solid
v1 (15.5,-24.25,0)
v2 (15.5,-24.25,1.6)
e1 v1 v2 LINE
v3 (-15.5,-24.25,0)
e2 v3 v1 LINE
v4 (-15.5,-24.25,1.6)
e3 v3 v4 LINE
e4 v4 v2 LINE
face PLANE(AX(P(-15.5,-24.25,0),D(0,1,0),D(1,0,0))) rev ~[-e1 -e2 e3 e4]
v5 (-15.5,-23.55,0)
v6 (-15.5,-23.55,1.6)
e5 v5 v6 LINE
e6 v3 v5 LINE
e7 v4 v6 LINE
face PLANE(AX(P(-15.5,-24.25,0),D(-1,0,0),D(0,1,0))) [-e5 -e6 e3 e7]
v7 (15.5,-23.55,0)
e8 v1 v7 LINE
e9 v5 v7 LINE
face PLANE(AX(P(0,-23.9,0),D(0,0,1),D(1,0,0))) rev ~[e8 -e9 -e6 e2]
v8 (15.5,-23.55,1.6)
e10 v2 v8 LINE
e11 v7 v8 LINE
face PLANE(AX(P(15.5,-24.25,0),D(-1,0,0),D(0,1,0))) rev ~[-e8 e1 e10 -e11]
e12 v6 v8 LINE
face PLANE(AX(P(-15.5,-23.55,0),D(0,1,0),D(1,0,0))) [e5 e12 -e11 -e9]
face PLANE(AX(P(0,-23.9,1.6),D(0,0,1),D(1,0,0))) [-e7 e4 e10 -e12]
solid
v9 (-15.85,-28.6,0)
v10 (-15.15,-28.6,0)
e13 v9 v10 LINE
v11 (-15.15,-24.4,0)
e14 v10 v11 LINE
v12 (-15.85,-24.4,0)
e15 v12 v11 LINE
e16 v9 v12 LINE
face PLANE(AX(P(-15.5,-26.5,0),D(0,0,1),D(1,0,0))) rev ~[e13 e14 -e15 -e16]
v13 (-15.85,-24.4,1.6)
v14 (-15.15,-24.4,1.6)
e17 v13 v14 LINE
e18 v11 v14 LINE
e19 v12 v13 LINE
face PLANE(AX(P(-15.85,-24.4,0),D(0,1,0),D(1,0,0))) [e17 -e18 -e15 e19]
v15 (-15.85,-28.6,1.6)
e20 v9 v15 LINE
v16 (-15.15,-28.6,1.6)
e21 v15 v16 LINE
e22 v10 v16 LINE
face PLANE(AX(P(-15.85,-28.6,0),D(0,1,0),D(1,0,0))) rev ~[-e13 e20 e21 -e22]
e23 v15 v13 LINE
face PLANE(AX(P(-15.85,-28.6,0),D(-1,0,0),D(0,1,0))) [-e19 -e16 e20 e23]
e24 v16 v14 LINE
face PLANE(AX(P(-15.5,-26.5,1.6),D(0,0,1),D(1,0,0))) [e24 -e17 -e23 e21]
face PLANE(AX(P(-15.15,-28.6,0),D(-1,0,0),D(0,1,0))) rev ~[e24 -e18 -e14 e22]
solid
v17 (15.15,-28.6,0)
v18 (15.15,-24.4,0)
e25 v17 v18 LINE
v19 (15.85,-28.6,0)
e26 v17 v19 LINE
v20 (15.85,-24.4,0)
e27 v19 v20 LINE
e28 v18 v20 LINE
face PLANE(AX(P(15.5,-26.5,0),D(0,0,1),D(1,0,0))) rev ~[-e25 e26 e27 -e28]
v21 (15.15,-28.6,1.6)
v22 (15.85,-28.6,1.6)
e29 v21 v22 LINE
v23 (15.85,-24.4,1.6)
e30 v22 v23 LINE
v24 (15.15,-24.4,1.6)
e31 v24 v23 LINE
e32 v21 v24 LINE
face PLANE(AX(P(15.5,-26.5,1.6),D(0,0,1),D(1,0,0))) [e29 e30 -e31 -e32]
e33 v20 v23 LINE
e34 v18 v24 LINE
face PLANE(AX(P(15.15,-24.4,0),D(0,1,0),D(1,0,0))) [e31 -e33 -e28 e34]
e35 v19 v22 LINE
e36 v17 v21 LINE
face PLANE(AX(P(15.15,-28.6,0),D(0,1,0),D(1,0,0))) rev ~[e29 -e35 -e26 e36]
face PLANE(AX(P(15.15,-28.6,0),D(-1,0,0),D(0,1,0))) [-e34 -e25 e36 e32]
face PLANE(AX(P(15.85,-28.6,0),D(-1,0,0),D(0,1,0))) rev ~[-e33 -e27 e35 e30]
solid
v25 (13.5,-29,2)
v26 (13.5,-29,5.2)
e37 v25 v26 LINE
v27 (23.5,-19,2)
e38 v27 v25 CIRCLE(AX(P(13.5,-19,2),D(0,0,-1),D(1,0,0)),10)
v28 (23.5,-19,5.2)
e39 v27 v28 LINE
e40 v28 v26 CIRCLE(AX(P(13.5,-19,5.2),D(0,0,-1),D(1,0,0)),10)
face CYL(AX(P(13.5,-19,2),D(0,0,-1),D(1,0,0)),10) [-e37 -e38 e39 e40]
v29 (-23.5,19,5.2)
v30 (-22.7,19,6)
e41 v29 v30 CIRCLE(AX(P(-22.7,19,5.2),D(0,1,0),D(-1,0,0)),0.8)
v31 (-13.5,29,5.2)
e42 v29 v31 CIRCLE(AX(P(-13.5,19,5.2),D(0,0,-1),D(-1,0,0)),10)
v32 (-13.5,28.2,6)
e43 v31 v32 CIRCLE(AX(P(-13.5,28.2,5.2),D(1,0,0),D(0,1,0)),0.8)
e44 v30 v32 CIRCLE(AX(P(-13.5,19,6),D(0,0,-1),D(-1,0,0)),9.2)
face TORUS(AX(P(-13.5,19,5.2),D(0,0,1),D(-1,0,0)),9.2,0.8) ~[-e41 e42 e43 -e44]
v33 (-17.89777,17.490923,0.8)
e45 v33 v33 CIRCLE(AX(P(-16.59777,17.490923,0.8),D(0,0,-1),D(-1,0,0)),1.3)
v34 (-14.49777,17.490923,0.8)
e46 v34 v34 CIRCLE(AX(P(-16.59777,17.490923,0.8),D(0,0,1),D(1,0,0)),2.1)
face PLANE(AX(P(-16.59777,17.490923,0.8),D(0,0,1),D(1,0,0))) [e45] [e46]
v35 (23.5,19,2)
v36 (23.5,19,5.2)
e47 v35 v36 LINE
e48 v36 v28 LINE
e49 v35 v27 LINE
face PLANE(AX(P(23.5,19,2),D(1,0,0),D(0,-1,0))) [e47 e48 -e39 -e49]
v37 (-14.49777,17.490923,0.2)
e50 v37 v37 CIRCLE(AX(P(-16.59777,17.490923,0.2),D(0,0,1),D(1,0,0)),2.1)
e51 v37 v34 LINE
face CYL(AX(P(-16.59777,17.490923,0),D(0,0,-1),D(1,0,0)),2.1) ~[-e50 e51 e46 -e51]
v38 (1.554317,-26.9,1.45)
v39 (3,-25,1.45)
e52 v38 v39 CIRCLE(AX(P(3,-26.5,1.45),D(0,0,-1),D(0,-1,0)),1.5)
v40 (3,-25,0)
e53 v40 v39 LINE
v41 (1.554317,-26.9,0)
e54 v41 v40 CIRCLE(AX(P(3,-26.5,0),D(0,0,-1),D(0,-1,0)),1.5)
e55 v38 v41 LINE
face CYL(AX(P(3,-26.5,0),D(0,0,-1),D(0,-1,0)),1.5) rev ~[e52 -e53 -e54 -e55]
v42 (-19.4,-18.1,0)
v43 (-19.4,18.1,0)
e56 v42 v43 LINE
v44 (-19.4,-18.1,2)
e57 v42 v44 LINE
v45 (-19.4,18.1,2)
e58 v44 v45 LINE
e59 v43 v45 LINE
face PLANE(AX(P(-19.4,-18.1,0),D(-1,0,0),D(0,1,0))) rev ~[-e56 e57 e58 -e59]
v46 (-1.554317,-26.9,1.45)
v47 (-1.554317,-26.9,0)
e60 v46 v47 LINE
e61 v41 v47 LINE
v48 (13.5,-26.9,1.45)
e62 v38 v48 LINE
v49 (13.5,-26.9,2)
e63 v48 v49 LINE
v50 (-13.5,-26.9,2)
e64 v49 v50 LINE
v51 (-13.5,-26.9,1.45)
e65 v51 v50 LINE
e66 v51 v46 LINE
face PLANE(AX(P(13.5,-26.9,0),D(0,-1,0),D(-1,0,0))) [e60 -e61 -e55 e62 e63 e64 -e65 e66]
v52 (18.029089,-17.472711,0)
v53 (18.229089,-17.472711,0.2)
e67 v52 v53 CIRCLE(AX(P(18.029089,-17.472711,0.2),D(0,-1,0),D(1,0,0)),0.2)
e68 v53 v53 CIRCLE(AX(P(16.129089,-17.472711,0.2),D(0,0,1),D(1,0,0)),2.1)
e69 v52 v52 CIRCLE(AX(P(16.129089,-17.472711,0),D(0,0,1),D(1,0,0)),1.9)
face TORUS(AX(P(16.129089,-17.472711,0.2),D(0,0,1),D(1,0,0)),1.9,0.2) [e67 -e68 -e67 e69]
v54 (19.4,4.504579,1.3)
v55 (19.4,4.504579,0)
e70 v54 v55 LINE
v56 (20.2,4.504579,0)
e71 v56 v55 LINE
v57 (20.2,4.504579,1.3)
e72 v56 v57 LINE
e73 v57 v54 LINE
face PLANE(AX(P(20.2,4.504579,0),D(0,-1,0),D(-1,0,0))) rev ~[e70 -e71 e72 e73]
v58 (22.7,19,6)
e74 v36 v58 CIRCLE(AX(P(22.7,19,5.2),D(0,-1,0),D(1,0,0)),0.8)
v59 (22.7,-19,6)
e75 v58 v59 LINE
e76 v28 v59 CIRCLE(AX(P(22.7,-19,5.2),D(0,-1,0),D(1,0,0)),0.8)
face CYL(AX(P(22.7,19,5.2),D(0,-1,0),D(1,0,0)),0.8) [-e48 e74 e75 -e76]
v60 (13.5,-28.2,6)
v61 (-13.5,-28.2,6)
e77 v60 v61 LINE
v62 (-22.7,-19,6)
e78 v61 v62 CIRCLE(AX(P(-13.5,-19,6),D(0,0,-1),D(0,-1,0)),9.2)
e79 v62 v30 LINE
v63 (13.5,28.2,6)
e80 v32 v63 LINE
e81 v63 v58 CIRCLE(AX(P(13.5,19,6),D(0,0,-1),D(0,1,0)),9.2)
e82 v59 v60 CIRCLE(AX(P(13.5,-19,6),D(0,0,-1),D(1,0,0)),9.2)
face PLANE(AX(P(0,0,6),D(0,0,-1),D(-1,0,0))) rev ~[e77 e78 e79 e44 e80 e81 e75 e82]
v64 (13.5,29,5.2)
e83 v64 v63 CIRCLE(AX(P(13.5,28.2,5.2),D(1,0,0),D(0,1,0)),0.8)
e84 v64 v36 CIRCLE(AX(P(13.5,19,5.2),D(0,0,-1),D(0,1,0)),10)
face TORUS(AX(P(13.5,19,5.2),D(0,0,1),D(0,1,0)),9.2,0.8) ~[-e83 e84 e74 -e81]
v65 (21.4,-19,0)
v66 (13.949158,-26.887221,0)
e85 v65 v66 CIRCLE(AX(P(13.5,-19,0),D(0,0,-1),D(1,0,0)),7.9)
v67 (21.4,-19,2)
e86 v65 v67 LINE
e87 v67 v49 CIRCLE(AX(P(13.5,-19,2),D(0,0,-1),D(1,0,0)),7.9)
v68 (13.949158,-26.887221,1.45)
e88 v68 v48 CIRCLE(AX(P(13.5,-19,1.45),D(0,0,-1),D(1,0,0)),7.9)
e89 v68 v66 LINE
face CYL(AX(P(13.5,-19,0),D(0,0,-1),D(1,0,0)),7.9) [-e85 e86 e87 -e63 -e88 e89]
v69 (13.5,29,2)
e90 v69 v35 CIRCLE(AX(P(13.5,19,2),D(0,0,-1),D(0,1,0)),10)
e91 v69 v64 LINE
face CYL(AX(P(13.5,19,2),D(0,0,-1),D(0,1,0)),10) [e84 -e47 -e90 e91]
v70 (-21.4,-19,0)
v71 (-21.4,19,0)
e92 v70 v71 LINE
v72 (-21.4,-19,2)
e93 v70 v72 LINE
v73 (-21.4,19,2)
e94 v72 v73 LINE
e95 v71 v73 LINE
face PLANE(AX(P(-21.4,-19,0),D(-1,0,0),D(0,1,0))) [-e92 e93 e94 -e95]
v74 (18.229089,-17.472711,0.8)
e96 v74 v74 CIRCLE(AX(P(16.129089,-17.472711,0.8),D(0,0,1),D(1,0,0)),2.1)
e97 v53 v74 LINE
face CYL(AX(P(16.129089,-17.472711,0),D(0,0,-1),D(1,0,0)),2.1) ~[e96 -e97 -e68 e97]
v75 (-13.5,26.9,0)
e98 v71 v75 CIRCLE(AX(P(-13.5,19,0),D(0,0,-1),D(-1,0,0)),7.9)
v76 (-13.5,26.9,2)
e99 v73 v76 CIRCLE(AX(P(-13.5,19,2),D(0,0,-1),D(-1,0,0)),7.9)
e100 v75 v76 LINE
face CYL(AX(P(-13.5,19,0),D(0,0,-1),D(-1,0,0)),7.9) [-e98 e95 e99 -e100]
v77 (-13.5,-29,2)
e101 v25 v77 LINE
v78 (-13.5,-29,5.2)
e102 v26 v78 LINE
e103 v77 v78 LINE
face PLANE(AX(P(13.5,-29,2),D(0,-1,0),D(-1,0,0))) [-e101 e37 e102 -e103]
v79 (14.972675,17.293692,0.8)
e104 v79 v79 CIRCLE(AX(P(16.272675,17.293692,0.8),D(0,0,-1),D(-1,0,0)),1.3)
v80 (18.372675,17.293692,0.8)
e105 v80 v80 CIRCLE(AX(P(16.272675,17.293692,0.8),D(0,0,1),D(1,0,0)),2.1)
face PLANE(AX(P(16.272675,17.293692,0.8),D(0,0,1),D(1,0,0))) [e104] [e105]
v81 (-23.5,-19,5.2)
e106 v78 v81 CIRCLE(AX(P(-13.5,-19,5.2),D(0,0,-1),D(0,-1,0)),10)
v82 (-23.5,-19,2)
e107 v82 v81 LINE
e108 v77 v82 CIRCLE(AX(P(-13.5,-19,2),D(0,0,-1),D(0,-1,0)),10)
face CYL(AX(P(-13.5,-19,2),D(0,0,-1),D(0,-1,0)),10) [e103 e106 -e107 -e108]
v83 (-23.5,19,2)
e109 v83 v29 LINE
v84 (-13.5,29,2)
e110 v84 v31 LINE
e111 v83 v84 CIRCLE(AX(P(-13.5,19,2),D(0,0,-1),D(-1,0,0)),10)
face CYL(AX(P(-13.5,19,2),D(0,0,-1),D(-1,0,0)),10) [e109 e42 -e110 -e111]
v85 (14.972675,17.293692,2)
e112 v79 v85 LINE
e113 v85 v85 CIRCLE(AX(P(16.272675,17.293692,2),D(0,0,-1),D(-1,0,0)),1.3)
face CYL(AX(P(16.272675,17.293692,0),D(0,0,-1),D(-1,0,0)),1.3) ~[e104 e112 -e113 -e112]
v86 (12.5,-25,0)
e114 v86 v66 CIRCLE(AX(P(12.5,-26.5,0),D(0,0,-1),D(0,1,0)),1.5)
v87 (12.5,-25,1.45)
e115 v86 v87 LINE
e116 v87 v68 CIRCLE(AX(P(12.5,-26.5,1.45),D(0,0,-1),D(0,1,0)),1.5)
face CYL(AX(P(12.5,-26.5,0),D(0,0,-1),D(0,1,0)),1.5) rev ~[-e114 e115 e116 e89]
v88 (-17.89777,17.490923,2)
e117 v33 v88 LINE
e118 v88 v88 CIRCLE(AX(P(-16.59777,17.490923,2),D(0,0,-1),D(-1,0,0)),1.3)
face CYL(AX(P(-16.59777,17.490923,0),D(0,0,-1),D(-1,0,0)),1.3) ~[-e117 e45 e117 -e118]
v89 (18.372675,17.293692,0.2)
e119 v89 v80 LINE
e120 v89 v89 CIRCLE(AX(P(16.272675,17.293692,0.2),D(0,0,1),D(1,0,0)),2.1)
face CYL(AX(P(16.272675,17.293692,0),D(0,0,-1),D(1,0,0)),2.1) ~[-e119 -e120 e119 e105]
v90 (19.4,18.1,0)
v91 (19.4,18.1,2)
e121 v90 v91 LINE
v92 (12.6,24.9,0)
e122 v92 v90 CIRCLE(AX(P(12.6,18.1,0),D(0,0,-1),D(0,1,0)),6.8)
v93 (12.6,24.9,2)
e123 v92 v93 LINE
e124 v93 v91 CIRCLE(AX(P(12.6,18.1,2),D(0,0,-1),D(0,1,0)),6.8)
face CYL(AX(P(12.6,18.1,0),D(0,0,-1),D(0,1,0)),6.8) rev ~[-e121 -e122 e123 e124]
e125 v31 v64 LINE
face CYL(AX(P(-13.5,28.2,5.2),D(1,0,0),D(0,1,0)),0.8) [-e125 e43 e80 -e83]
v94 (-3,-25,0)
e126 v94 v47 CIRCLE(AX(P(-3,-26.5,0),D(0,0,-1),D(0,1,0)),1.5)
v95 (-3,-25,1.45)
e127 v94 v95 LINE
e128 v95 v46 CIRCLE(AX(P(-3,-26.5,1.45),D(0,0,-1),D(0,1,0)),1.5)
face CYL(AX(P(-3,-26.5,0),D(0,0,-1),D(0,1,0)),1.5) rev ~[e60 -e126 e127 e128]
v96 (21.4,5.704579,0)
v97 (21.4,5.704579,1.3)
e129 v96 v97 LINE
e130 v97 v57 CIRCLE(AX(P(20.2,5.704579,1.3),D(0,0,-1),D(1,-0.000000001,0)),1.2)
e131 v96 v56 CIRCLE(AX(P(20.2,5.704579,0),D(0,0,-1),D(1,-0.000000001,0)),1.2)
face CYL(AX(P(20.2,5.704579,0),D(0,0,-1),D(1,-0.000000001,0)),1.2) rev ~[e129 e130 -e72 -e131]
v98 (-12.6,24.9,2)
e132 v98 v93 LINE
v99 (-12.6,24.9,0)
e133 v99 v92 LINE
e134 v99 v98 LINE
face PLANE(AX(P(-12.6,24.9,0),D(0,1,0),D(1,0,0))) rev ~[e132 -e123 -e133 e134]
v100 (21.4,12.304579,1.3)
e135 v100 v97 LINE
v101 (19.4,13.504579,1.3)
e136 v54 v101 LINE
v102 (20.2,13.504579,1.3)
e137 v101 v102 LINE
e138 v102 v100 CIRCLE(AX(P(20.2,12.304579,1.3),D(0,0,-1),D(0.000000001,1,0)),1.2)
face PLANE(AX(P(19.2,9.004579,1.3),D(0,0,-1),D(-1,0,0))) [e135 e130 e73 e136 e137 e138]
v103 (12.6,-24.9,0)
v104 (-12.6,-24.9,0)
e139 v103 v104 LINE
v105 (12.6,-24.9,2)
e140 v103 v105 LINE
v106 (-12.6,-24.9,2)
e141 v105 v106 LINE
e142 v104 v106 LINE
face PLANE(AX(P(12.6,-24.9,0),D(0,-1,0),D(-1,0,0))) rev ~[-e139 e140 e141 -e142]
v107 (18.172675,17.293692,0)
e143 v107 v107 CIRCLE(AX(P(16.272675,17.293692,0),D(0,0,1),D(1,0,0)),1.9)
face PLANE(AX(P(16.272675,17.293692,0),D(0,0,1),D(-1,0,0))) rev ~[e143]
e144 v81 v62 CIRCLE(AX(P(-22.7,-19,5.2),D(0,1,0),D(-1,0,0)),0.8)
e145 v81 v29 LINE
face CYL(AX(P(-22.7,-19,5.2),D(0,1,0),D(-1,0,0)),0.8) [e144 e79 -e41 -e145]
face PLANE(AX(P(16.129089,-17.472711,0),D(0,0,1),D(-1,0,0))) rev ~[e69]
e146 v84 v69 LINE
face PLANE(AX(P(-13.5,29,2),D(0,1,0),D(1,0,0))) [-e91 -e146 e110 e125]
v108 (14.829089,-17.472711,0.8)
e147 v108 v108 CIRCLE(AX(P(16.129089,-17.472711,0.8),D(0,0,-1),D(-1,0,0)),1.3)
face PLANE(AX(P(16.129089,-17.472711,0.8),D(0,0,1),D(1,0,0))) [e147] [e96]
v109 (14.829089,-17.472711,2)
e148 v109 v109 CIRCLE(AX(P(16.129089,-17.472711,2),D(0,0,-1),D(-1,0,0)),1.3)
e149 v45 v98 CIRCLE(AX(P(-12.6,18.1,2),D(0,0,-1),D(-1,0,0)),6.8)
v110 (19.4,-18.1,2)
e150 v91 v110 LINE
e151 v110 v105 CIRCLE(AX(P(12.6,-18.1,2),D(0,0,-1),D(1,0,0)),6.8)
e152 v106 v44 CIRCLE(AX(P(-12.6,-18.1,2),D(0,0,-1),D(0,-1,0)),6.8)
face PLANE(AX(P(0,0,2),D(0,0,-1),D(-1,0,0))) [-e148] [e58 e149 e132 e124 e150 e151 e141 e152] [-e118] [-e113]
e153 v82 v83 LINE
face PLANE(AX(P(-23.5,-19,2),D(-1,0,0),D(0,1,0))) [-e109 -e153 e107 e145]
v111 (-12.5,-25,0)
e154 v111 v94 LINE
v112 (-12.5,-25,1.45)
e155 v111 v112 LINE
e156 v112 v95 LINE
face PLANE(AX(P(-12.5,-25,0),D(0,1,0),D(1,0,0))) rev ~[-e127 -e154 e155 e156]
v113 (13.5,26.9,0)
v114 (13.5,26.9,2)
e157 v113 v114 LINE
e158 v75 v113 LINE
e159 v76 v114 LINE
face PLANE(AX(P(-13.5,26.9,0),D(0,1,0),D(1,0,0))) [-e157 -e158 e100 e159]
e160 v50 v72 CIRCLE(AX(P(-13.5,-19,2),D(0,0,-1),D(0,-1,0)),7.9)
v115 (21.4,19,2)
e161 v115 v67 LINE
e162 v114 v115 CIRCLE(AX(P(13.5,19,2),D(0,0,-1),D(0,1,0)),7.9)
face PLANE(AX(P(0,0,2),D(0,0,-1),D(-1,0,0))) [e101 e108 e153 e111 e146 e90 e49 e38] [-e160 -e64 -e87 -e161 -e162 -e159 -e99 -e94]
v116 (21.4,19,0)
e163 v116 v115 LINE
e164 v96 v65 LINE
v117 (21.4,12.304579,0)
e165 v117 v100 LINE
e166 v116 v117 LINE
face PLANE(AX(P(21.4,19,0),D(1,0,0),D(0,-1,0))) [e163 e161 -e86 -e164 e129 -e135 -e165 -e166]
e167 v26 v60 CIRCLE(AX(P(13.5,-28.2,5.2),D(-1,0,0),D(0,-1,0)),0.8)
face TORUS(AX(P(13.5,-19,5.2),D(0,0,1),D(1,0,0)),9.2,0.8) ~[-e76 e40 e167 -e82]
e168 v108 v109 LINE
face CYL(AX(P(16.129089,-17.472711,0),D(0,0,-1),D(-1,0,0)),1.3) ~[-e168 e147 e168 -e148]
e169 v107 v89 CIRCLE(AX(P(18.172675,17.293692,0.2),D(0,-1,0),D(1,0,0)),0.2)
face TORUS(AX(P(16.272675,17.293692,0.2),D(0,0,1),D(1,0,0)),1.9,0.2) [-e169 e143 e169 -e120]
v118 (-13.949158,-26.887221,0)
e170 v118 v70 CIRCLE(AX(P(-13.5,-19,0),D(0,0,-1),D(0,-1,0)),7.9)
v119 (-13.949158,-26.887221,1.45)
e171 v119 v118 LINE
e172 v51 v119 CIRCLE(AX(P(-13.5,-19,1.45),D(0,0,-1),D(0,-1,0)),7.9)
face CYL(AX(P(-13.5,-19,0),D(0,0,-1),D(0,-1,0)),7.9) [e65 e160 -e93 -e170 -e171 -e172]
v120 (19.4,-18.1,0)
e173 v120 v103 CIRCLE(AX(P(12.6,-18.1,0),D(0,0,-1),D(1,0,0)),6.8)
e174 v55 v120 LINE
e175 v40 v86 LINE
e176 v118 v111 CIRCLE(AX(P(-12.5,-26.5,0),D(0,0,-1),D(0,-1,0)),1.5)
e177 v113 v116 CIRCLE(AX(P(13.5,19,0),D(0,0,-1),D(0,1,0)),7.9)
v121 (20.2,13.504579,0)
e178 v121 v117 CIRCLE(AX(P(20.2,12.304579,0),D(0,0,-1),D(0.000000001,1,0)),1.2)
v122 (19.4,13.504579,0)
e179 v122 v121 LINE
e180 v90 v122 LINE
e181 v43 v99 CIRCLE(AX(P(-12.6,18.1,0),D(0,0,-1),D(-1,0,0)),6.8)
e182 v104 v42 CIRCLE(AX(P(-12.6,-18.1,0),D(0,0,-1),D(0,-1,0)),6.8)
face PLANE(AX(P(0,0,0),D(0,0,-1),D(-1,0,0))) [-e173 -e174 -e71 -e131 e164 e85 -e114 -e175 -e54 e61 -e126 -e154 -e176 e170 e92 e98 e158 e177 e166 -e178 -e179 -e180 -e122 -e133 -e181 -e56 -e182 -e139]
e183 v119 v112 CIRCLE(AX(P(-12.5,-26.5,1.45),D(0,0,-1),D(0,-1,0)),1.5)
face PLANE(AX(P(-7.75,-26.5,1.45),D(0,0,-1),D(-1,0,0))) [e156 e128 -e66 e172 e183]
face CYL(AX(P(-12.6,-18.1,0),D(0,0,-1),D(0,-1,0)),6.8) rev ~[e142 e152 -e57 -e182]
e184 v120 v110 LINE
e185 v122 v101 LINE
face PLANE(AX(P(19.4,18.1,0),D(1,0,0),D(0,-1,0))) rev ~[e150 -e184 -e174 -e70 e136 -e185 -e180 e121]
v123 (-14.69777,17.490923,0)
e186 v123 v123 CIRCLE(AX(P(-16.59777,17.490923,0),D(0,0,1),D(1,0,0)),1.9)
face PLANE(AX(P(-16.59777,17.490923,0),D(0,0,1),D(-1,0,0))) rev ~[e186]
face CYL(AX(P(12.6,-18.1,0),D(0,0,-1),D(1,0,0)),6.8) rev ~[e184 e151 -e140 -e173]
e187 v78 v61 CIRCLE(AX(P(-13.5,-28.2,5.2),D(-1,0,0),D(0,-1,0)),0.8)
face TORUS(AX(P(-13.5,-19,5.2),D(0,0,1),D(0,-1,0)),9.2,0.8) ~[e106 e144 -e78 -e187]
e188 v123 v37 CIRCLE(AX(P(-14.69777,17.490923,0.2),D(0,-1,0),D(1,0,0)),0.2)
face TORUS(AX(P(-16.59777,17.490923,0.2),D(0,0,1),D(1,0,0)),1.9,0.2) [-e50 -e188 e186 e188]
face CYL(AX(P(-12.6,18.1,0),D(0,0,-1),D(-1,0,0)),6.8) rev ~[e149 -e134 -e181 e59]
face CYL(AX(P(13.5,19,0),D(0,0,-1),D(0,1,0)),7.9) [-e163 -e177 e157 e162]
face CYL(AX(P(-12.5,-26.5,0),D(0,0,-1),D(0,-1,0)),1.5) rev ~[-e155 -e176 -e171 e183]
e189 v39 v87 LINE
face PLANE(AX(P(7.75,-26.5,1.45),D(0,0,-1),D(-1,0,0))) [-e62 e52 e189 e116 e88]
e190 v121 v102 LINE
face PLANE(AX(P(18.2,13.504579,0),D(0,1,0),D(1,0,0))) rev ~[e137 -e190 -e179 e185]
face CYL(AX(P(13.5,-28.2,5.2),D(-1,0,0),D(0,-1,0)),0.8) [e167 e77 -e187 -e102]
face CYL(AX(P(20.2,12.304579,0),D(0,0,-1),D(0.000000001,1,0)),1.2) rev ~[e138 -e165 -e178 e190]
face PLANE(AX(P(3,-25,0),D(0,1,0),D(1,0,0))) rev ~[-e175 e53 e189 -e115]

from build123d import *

# Parameters (mm, degrees)
LOWER_MATING_LIP_OUTER_2MM_OVERLAP_DEPTH       = 2
LOWER_MATING_LIP_INNER_CLEARANCE_DEPTH         = 2.3
LOWER_VISIBLE_BASE_4MM_DEPTH                   = 4
LOWER_BOTTOM_EDGE_SOFT_FILLET_R0_8_R           = 0.8
LOWER_USB_C_RIGHT_SIDE_LIP_CLEARANCE_AT_DEPTH  = 1.3
SKETCH_7_R                                     = 2.1
LOWER_PCB1_LOCATING_1_RIGHT_TOP_POST_BAS_DEPTH = 0.8
SKETCH_8_R                                     = 1.3
LOWER_PCB1_LOCATING_1_RIGHT_TOP_SOLID_PO_DEPTH = 2.5
LOWER_PCB1_LOCATING_1_RIGHT_TOP_SOLI_2_R       = 0.2
SKETCH_9_R                                     = 2.1
LOWER_PCB1_LOCATING_2_RIGHT_BOTTOM_POST_DEPTH  = 0.8
SKETCH_10_R                                    = 1.3
LOWER_PCB1_LOCATING_2_RIGHT_BOTTOM_SOLID_DEPTH = 2.5
LOWER_PCB1_LOCATING_2_RIGHT_BOTTOM_S_2_R       = 0.2
SKETCH_11_R                                    = 2.1
LOWER_PCB1_LOCATING_3_LEFT_TOP_POST_BASE_DEPTH = 0.8
SKETCH_12_R                                    = 1.3
LOWER_PCB1_LOCATING_3_LEFT_TOP_SOLID_POS_DEPTH = 2.5
LOWER_PCB1_LOCATING_3_LEFT_TOP_SOLID_2_R       = 0.2
LOWER_LANYARD_WET_ZONE_LEFT_OUTER_WINDOW_DEPTH = 1.45
LOWER_LANYARD_WET_ZONE_RIGHT_OUTER_WINDO_DEPTH = 1.45
SKETCH_16_W                                    = 31
SKETCH_16_H                                    = 0.7
LOWER_LANYARD_DRY_ZONE_SEAL_RIB_TOP_V7_DEPTH   = 1.6
SKETCH_17_W                                    = 0.7
SKETCH_17_H                                    = 4.2
LOWER_LANYARD_DRY_ZONE_SEAL_RIB_LEFT_V7_DEPTH  = 1.6
SKETCH_18_W                                    = 0.7
SKETCH_18_H                                    = 4.2
LOWER_LANYARD_DRY_ZONE_SEAL_RIB_RIGHT_V7_DEPTH = 1.6


with BuildPart() as part:
    # 草图1 → Lower_mating_lip_outer_2mm_overlap (new body)
    with BuildSketch(Plane.XY):
        with BuildLine():
            Line((-13.5, 26.9), (13.5, 26.9))
            ThreePointArc((13.5, 26.9), (19.086143571, 24.586143571), (21.4, 19))
            Line((21.4, 19), (21.4, -19))
            ThreePointArc((21.4, -19), (19.086143571, -24.586143571), (13.5, -26.9))
            Line((13.5, -26.9), (-13.5, -26.9))
            ThreePointArc((-13.5, -26.9), (-19.086143571, -24.586143571), (-21.4, -19))
            Line((-21.4, -19), (-21.4, 19))
            ThreePointArc((-21.4, 19), (-19.086143571, 24.586143571), (-13.5, 26.9))
        make_face()
    extrude(amount=LOWER_MATING_LIP_OUTER_2MM_OVERLAP_DEPTH)

    # 草图2 → Lower_mating_lip_inner_clearance (cut)
    with BuildSketch(Plane.XY):
        with BuildLine():
            Line((-12.6, 24.9), (12.6, 24.9))
            ThreePointArc((12.6, 24.9), (17.408326112, 22.908326112), (19.4, 18.1))
            Line((19.4, 18.1), (19.4, -18.1))
            ThreePointArc((19.4, -18.1), (17.408326112, -22.908326112), (12.6, -24.9))
            Line((12.6, -24.9), (-12.6, -24.9))
            ThreePointArc((-12.6, -24.9), (-17.408326112, -22.908326112), (-19.4, -18.1))
            Line((-19.4, -18.1), (-19.4, 18.1))
            ThreePointArc((-19.4, 18.1), (-17.408326112, 22.908326112), (-12.6, 24.9))
        make_face()
    extrude(amount=LOWER_MATING_LIP_INNER_CLEARANCE_DEPTH, mode=Mode.SUBTRACT)

    # 草图3 → Lower_visible_base_4mm (add)
    with BuildSketch(Plane.XY.offset(2)):
        with BuildLine():
            Line((-13.5, 29), (13.5, 29))
            ThreePointArc((13.5, 29), (20.571067812, 26.071067812), (23.5, 19))
            Line((23.5, 19), (23.5, -19))
            ThreePointArc((23.5, -19), (20.571067812, -26.071067812), (13.5, -29))
            Line((13.5, -29), (-13.5, -29))
            ThreePointArc((-13.5, -29), (-20.571067812, -26.071067812), (-23.5, -19))
            Line((-23.5, -19), (-23.5, 19))
            ThreePointArc((-23.5, 19), (-20.571067812, 26.071067812), (-13.5, 29))
        make_face()
    extrude(amount=LOWER_VISIBLE_BASE_4MM_DEPTH)

    # Lower_bottom_edge_soft_fillet_r0_8
    lower_bottom_edge_soft_fillet_r0_8_edges = [part.edges().sort_by_distance(p)[0] for p in [
        (-20.571067812, 26.071067812, 6),
        (-23.5, 0, 6),
        (-20.571067812, -26.071067812, 6),
        (0, -29, 6),
        (20.571067812, -26.071067812, 6),
        (23.5, 0, 6),
        (20.571067812, 26.071067812, 6),
        (0, 29, 6),
    ]]
    fillet(lower_bottom_edge_soft_fillet_r0_8_edges, radius=LOWER_BOTTOM_EDGE_SOFT_FILLET_R0_8_R)

    # 草图6 → Lower_USB_C_right_side_lip_clearance_at (cut)
    with BuildSketch(Plane.XY):
        with BuildLine():
            Line((18.2, 13.5045794), (20.2, 13.5045794))
            ThreePointArc((20.2, 13.5045794), (21.048528137, 13.153107537), (21.4, 12.3045794))
            Line((21.4, 12.3045794), (21.4, 5.7045794))
            ThreePointArc((21.4, 5.7045794), (21.048528137, 4.856051263), (20.2, 4.5045794))
            Line((20.2, 4.5045794), (18.2, 4.5045794))
            ThreePointArc((18.2, 4.5045794), (17.351471863, 4.856051263), (17, 5.7045794))
            Line((17, 5.7045794), (17, 12.3045794))
            ThreePointArc((17, 12.3045794), (17.351471863, 13.153107537), (18.2, 13.5045794))
        make_face()
    extrude(amount=LOWER_USB_C_RIGHT_SIDE_LIP_CLEARANCE_AT_DEPTH, mode=Mode.SUBTRACT)



with BuildPart() as body_2:
    # 草图7 → Lower_PCB1_locating_1_right_top_post_base_pad_d4_2_h0_8 (new body)
    with BuildSketch(Plane.XY):
        with Locations((16.2726751, 17.2936916)):
            Circle(SKETCH_7_R)
    extrude(amount=LOWER_PCB1_LOCATING_1_RIGHT_TOP_POST_BAS_DEPTH)


with BuildPart() as part_1:
    add(part.part)

    add(body_2.part)  # Lower_PCB1_locating_1_right_top_solid_po merges body 2
    # 草图8 → Lower_PCB1_locating_1_right_top_solid_po (add)
    with BuildSketch(Plane.XY):
        with Locations(Location((16.2726751, 17.2936916, 0), (0, 0, 180))):
            Circle(SKETCH_8_R)
    extrude(amount=LOWER_PCB1_LOCATING_1_RIGHT_TOP_SOLID_PO_DEPTH)

    # Lower_PCB1_locating_1_right_top_soli 2
    lower_pcb1_locating_1_right_top_soli_2_edges = [part_1.edges().sort_by_distance(p)[0] for p in [
        (14.1726751, 17.2936916, 0),
    ]]
    fillet(lower_pcb1_locating_1_right_top_soli_2_edges, radius=LOWER_PCB1_LOCATING_1_RIGHT_TOP_SOLI_2_R)



with BuildPart() as body_2_2:
    # 草图9 → Lower_PCB1_locating_2_right_bottom_post_base_pad_d4_2_h0_8 (new body)
    with BuildSketch(Plane.XY):
        with Locations((16.1290889, -17.4727108)):
            Circle(SKETCH_9_R)
    extrude(amount=LOWER_PCB1_LOCATING_2_RIGHT_BOTTOM_POST_DEPTH)


with BuildPart() as part_2:
    add(part_1.part)

    add(body_2_2.part)  # Lower_PCB1_locating_2_right_bottom_solid merges body 2 2
    # 草图10 → Lower_PCB1_locating_2_right_bottom_solid (add)
    with BuildSketch(Plane.XY):
        with Locations(Location((16.1290889, -17.4727108, 0), (0, 0, 180))):
            Circle(SKETCH_10_R)
    extrude(amount=LOWER_PCB1_LOCATING_2_RIGHT_BOTTOM_SOLID_DEPTH)

    # Lower_PCB1_locating_2_right_bottom_s 2
    lower_pcb1_locating_2_right_bottom_s_2_edges = [part_2.edges().sort_by_distance(p)[0] for p in [
        (14.0290889, -17.4727108, 0),
    ]]
    fillet(lower_pcb1_locating_2_right_bottom_s_2_edges, radius=LOWER_PCB1_LOCATING_2_RIGHT_BOTTOM_S_2_R)



with BuildPart() as body_2_3:
    # 草图11 → Lower_PCB1_locating_3_left_top_post_base_pad_d4_2_h0_8 (new body)
    with BuildSketch(Plane.XY):
        with Locations((-16.5977697, 17.4909226)):
            Circle(SKETCH_11_R)
    extrude(amount=LOWER_PCB1_LOCATING_3_LEFT_TOP_POST_BASE_DEPTH)


with BuildPart() as part_3:
    add(part_2.part)

    add(body_2_3.part)  # Lower_PCB1_locating_3_left_top_solid_pos merges body 2 3
    # 草图12 → Lower_PCB1_locating_3_left_top_solid_pos (add)
    with BuildSketch(Plane.XY):
        with Locations(Location((-16.5977697, 17.4909226, 0), (0, 0, 180))):
            Circle(SKETCH_12_R)
    extrude(amount=LOWER_PCB1_LOCATING_3_LEFT_TOP_SOLID_POS_DEPTH)

    # Lower_PCB1_locating_3_left_top_solid 2
    lower_pcb1_locating_3_left_top_solid_2_edges = [part_3.edges().sort_by_distance(p)[0] for p in [
        (-18.6977697, 17.4909226, 0),
    ]]
    fillet(lower_pcb1_locating_3_left_top_solid_2_edges, radius=LOWER_PCB1_LOCATING_3_LEFT_TOP_SOLID_2_R)

    # 草图14 → Lower_lanyard_wet_zone_left_outer_window_v7_lip1mm (cut)
    with BuildSketch(Plane.XY):
        with BuildLine():
            Line((-12.5, -25), (-3, -25))
            ThreePointArc((-3, -25), (-1.5, -26.5), (-3, -28))
            Line((-3, -28), (-12.5, -28))
            ThreePointArc((-12.5, -28), (-14, -26.5), (-12.5, -25))
        make_face()
    extrude(amount=LOWER_LANYARD_WET_ZONE_LEFT_OUTER_WINDOW_DEPTH, mode=Mode.SUBTRACT)

    # 草图15 → Lower_lanyard_wet_zone_right_outer_window_v7_lip1mm (cut)
    with BuildSketch(Plane.XY):
        with BuildLine():
            Line((3, -25), (12.5, -25))
            ThreePointArc((12.5, -25), (14, -26.5), (12.5, -28))
            Line((12.5, -28), (3, -28))
            ThreePointArc((3, -28), (1.5, -26.5), (3, -25))
        make_face()
    extrude(amount=LOWER_LANYARD_WET_ZONE_RIGHT_OUTER_WINDO_DEPTH, mode=Mode.SUBTRACT)


with BuildPart() as body_2_4:
    # 草图16 → Lower_lanyard_dry_zone_seal_rib_top_v7 (new body)
    with BuildSketch(Plane.XY):
        with Locations((0, -23.9)):
            Rectangle(SKETCH_16_W, SKETCH_16_H)
    extrude(amount=LOWER_LANYARD_DRY_ZONE_SEAL_RIB_TOP_V7_DEPTH)


with BuildPart() as body_3:
    # 草图17 → Lower_lanyard_dry_zone_seal_rib_left_v7 (new body)
    with BuildSketch(Plane.XY):
        with Locations((-15.5, -26.5)):
            Rectangle(SKETCH_17_W, SKETCH_17_H)
    extrude(amount=LOWER_LANYARD_DRY_ZONE_SEAL_RIB_LEFT_V7_DEPTH)


with BuildPart() as body_4:
    # 草图18 → Lower_lanyard_dry_zone_seal_rib_right_v7 (new body)
    with BuildSketch(Plane.XY):
        with Locations((15.5, -26.5)):
            Rectangle(SKETCH_18_W, SKETCH_18_H)
    extrude(amount=LOWER_LANYARD_DRY_ZONE_SEAL_RIB_RIGHT_V7_DEPTH)


solid = Compound([part_3.part, body_2_4.part, body_3.part, body_4.part])
